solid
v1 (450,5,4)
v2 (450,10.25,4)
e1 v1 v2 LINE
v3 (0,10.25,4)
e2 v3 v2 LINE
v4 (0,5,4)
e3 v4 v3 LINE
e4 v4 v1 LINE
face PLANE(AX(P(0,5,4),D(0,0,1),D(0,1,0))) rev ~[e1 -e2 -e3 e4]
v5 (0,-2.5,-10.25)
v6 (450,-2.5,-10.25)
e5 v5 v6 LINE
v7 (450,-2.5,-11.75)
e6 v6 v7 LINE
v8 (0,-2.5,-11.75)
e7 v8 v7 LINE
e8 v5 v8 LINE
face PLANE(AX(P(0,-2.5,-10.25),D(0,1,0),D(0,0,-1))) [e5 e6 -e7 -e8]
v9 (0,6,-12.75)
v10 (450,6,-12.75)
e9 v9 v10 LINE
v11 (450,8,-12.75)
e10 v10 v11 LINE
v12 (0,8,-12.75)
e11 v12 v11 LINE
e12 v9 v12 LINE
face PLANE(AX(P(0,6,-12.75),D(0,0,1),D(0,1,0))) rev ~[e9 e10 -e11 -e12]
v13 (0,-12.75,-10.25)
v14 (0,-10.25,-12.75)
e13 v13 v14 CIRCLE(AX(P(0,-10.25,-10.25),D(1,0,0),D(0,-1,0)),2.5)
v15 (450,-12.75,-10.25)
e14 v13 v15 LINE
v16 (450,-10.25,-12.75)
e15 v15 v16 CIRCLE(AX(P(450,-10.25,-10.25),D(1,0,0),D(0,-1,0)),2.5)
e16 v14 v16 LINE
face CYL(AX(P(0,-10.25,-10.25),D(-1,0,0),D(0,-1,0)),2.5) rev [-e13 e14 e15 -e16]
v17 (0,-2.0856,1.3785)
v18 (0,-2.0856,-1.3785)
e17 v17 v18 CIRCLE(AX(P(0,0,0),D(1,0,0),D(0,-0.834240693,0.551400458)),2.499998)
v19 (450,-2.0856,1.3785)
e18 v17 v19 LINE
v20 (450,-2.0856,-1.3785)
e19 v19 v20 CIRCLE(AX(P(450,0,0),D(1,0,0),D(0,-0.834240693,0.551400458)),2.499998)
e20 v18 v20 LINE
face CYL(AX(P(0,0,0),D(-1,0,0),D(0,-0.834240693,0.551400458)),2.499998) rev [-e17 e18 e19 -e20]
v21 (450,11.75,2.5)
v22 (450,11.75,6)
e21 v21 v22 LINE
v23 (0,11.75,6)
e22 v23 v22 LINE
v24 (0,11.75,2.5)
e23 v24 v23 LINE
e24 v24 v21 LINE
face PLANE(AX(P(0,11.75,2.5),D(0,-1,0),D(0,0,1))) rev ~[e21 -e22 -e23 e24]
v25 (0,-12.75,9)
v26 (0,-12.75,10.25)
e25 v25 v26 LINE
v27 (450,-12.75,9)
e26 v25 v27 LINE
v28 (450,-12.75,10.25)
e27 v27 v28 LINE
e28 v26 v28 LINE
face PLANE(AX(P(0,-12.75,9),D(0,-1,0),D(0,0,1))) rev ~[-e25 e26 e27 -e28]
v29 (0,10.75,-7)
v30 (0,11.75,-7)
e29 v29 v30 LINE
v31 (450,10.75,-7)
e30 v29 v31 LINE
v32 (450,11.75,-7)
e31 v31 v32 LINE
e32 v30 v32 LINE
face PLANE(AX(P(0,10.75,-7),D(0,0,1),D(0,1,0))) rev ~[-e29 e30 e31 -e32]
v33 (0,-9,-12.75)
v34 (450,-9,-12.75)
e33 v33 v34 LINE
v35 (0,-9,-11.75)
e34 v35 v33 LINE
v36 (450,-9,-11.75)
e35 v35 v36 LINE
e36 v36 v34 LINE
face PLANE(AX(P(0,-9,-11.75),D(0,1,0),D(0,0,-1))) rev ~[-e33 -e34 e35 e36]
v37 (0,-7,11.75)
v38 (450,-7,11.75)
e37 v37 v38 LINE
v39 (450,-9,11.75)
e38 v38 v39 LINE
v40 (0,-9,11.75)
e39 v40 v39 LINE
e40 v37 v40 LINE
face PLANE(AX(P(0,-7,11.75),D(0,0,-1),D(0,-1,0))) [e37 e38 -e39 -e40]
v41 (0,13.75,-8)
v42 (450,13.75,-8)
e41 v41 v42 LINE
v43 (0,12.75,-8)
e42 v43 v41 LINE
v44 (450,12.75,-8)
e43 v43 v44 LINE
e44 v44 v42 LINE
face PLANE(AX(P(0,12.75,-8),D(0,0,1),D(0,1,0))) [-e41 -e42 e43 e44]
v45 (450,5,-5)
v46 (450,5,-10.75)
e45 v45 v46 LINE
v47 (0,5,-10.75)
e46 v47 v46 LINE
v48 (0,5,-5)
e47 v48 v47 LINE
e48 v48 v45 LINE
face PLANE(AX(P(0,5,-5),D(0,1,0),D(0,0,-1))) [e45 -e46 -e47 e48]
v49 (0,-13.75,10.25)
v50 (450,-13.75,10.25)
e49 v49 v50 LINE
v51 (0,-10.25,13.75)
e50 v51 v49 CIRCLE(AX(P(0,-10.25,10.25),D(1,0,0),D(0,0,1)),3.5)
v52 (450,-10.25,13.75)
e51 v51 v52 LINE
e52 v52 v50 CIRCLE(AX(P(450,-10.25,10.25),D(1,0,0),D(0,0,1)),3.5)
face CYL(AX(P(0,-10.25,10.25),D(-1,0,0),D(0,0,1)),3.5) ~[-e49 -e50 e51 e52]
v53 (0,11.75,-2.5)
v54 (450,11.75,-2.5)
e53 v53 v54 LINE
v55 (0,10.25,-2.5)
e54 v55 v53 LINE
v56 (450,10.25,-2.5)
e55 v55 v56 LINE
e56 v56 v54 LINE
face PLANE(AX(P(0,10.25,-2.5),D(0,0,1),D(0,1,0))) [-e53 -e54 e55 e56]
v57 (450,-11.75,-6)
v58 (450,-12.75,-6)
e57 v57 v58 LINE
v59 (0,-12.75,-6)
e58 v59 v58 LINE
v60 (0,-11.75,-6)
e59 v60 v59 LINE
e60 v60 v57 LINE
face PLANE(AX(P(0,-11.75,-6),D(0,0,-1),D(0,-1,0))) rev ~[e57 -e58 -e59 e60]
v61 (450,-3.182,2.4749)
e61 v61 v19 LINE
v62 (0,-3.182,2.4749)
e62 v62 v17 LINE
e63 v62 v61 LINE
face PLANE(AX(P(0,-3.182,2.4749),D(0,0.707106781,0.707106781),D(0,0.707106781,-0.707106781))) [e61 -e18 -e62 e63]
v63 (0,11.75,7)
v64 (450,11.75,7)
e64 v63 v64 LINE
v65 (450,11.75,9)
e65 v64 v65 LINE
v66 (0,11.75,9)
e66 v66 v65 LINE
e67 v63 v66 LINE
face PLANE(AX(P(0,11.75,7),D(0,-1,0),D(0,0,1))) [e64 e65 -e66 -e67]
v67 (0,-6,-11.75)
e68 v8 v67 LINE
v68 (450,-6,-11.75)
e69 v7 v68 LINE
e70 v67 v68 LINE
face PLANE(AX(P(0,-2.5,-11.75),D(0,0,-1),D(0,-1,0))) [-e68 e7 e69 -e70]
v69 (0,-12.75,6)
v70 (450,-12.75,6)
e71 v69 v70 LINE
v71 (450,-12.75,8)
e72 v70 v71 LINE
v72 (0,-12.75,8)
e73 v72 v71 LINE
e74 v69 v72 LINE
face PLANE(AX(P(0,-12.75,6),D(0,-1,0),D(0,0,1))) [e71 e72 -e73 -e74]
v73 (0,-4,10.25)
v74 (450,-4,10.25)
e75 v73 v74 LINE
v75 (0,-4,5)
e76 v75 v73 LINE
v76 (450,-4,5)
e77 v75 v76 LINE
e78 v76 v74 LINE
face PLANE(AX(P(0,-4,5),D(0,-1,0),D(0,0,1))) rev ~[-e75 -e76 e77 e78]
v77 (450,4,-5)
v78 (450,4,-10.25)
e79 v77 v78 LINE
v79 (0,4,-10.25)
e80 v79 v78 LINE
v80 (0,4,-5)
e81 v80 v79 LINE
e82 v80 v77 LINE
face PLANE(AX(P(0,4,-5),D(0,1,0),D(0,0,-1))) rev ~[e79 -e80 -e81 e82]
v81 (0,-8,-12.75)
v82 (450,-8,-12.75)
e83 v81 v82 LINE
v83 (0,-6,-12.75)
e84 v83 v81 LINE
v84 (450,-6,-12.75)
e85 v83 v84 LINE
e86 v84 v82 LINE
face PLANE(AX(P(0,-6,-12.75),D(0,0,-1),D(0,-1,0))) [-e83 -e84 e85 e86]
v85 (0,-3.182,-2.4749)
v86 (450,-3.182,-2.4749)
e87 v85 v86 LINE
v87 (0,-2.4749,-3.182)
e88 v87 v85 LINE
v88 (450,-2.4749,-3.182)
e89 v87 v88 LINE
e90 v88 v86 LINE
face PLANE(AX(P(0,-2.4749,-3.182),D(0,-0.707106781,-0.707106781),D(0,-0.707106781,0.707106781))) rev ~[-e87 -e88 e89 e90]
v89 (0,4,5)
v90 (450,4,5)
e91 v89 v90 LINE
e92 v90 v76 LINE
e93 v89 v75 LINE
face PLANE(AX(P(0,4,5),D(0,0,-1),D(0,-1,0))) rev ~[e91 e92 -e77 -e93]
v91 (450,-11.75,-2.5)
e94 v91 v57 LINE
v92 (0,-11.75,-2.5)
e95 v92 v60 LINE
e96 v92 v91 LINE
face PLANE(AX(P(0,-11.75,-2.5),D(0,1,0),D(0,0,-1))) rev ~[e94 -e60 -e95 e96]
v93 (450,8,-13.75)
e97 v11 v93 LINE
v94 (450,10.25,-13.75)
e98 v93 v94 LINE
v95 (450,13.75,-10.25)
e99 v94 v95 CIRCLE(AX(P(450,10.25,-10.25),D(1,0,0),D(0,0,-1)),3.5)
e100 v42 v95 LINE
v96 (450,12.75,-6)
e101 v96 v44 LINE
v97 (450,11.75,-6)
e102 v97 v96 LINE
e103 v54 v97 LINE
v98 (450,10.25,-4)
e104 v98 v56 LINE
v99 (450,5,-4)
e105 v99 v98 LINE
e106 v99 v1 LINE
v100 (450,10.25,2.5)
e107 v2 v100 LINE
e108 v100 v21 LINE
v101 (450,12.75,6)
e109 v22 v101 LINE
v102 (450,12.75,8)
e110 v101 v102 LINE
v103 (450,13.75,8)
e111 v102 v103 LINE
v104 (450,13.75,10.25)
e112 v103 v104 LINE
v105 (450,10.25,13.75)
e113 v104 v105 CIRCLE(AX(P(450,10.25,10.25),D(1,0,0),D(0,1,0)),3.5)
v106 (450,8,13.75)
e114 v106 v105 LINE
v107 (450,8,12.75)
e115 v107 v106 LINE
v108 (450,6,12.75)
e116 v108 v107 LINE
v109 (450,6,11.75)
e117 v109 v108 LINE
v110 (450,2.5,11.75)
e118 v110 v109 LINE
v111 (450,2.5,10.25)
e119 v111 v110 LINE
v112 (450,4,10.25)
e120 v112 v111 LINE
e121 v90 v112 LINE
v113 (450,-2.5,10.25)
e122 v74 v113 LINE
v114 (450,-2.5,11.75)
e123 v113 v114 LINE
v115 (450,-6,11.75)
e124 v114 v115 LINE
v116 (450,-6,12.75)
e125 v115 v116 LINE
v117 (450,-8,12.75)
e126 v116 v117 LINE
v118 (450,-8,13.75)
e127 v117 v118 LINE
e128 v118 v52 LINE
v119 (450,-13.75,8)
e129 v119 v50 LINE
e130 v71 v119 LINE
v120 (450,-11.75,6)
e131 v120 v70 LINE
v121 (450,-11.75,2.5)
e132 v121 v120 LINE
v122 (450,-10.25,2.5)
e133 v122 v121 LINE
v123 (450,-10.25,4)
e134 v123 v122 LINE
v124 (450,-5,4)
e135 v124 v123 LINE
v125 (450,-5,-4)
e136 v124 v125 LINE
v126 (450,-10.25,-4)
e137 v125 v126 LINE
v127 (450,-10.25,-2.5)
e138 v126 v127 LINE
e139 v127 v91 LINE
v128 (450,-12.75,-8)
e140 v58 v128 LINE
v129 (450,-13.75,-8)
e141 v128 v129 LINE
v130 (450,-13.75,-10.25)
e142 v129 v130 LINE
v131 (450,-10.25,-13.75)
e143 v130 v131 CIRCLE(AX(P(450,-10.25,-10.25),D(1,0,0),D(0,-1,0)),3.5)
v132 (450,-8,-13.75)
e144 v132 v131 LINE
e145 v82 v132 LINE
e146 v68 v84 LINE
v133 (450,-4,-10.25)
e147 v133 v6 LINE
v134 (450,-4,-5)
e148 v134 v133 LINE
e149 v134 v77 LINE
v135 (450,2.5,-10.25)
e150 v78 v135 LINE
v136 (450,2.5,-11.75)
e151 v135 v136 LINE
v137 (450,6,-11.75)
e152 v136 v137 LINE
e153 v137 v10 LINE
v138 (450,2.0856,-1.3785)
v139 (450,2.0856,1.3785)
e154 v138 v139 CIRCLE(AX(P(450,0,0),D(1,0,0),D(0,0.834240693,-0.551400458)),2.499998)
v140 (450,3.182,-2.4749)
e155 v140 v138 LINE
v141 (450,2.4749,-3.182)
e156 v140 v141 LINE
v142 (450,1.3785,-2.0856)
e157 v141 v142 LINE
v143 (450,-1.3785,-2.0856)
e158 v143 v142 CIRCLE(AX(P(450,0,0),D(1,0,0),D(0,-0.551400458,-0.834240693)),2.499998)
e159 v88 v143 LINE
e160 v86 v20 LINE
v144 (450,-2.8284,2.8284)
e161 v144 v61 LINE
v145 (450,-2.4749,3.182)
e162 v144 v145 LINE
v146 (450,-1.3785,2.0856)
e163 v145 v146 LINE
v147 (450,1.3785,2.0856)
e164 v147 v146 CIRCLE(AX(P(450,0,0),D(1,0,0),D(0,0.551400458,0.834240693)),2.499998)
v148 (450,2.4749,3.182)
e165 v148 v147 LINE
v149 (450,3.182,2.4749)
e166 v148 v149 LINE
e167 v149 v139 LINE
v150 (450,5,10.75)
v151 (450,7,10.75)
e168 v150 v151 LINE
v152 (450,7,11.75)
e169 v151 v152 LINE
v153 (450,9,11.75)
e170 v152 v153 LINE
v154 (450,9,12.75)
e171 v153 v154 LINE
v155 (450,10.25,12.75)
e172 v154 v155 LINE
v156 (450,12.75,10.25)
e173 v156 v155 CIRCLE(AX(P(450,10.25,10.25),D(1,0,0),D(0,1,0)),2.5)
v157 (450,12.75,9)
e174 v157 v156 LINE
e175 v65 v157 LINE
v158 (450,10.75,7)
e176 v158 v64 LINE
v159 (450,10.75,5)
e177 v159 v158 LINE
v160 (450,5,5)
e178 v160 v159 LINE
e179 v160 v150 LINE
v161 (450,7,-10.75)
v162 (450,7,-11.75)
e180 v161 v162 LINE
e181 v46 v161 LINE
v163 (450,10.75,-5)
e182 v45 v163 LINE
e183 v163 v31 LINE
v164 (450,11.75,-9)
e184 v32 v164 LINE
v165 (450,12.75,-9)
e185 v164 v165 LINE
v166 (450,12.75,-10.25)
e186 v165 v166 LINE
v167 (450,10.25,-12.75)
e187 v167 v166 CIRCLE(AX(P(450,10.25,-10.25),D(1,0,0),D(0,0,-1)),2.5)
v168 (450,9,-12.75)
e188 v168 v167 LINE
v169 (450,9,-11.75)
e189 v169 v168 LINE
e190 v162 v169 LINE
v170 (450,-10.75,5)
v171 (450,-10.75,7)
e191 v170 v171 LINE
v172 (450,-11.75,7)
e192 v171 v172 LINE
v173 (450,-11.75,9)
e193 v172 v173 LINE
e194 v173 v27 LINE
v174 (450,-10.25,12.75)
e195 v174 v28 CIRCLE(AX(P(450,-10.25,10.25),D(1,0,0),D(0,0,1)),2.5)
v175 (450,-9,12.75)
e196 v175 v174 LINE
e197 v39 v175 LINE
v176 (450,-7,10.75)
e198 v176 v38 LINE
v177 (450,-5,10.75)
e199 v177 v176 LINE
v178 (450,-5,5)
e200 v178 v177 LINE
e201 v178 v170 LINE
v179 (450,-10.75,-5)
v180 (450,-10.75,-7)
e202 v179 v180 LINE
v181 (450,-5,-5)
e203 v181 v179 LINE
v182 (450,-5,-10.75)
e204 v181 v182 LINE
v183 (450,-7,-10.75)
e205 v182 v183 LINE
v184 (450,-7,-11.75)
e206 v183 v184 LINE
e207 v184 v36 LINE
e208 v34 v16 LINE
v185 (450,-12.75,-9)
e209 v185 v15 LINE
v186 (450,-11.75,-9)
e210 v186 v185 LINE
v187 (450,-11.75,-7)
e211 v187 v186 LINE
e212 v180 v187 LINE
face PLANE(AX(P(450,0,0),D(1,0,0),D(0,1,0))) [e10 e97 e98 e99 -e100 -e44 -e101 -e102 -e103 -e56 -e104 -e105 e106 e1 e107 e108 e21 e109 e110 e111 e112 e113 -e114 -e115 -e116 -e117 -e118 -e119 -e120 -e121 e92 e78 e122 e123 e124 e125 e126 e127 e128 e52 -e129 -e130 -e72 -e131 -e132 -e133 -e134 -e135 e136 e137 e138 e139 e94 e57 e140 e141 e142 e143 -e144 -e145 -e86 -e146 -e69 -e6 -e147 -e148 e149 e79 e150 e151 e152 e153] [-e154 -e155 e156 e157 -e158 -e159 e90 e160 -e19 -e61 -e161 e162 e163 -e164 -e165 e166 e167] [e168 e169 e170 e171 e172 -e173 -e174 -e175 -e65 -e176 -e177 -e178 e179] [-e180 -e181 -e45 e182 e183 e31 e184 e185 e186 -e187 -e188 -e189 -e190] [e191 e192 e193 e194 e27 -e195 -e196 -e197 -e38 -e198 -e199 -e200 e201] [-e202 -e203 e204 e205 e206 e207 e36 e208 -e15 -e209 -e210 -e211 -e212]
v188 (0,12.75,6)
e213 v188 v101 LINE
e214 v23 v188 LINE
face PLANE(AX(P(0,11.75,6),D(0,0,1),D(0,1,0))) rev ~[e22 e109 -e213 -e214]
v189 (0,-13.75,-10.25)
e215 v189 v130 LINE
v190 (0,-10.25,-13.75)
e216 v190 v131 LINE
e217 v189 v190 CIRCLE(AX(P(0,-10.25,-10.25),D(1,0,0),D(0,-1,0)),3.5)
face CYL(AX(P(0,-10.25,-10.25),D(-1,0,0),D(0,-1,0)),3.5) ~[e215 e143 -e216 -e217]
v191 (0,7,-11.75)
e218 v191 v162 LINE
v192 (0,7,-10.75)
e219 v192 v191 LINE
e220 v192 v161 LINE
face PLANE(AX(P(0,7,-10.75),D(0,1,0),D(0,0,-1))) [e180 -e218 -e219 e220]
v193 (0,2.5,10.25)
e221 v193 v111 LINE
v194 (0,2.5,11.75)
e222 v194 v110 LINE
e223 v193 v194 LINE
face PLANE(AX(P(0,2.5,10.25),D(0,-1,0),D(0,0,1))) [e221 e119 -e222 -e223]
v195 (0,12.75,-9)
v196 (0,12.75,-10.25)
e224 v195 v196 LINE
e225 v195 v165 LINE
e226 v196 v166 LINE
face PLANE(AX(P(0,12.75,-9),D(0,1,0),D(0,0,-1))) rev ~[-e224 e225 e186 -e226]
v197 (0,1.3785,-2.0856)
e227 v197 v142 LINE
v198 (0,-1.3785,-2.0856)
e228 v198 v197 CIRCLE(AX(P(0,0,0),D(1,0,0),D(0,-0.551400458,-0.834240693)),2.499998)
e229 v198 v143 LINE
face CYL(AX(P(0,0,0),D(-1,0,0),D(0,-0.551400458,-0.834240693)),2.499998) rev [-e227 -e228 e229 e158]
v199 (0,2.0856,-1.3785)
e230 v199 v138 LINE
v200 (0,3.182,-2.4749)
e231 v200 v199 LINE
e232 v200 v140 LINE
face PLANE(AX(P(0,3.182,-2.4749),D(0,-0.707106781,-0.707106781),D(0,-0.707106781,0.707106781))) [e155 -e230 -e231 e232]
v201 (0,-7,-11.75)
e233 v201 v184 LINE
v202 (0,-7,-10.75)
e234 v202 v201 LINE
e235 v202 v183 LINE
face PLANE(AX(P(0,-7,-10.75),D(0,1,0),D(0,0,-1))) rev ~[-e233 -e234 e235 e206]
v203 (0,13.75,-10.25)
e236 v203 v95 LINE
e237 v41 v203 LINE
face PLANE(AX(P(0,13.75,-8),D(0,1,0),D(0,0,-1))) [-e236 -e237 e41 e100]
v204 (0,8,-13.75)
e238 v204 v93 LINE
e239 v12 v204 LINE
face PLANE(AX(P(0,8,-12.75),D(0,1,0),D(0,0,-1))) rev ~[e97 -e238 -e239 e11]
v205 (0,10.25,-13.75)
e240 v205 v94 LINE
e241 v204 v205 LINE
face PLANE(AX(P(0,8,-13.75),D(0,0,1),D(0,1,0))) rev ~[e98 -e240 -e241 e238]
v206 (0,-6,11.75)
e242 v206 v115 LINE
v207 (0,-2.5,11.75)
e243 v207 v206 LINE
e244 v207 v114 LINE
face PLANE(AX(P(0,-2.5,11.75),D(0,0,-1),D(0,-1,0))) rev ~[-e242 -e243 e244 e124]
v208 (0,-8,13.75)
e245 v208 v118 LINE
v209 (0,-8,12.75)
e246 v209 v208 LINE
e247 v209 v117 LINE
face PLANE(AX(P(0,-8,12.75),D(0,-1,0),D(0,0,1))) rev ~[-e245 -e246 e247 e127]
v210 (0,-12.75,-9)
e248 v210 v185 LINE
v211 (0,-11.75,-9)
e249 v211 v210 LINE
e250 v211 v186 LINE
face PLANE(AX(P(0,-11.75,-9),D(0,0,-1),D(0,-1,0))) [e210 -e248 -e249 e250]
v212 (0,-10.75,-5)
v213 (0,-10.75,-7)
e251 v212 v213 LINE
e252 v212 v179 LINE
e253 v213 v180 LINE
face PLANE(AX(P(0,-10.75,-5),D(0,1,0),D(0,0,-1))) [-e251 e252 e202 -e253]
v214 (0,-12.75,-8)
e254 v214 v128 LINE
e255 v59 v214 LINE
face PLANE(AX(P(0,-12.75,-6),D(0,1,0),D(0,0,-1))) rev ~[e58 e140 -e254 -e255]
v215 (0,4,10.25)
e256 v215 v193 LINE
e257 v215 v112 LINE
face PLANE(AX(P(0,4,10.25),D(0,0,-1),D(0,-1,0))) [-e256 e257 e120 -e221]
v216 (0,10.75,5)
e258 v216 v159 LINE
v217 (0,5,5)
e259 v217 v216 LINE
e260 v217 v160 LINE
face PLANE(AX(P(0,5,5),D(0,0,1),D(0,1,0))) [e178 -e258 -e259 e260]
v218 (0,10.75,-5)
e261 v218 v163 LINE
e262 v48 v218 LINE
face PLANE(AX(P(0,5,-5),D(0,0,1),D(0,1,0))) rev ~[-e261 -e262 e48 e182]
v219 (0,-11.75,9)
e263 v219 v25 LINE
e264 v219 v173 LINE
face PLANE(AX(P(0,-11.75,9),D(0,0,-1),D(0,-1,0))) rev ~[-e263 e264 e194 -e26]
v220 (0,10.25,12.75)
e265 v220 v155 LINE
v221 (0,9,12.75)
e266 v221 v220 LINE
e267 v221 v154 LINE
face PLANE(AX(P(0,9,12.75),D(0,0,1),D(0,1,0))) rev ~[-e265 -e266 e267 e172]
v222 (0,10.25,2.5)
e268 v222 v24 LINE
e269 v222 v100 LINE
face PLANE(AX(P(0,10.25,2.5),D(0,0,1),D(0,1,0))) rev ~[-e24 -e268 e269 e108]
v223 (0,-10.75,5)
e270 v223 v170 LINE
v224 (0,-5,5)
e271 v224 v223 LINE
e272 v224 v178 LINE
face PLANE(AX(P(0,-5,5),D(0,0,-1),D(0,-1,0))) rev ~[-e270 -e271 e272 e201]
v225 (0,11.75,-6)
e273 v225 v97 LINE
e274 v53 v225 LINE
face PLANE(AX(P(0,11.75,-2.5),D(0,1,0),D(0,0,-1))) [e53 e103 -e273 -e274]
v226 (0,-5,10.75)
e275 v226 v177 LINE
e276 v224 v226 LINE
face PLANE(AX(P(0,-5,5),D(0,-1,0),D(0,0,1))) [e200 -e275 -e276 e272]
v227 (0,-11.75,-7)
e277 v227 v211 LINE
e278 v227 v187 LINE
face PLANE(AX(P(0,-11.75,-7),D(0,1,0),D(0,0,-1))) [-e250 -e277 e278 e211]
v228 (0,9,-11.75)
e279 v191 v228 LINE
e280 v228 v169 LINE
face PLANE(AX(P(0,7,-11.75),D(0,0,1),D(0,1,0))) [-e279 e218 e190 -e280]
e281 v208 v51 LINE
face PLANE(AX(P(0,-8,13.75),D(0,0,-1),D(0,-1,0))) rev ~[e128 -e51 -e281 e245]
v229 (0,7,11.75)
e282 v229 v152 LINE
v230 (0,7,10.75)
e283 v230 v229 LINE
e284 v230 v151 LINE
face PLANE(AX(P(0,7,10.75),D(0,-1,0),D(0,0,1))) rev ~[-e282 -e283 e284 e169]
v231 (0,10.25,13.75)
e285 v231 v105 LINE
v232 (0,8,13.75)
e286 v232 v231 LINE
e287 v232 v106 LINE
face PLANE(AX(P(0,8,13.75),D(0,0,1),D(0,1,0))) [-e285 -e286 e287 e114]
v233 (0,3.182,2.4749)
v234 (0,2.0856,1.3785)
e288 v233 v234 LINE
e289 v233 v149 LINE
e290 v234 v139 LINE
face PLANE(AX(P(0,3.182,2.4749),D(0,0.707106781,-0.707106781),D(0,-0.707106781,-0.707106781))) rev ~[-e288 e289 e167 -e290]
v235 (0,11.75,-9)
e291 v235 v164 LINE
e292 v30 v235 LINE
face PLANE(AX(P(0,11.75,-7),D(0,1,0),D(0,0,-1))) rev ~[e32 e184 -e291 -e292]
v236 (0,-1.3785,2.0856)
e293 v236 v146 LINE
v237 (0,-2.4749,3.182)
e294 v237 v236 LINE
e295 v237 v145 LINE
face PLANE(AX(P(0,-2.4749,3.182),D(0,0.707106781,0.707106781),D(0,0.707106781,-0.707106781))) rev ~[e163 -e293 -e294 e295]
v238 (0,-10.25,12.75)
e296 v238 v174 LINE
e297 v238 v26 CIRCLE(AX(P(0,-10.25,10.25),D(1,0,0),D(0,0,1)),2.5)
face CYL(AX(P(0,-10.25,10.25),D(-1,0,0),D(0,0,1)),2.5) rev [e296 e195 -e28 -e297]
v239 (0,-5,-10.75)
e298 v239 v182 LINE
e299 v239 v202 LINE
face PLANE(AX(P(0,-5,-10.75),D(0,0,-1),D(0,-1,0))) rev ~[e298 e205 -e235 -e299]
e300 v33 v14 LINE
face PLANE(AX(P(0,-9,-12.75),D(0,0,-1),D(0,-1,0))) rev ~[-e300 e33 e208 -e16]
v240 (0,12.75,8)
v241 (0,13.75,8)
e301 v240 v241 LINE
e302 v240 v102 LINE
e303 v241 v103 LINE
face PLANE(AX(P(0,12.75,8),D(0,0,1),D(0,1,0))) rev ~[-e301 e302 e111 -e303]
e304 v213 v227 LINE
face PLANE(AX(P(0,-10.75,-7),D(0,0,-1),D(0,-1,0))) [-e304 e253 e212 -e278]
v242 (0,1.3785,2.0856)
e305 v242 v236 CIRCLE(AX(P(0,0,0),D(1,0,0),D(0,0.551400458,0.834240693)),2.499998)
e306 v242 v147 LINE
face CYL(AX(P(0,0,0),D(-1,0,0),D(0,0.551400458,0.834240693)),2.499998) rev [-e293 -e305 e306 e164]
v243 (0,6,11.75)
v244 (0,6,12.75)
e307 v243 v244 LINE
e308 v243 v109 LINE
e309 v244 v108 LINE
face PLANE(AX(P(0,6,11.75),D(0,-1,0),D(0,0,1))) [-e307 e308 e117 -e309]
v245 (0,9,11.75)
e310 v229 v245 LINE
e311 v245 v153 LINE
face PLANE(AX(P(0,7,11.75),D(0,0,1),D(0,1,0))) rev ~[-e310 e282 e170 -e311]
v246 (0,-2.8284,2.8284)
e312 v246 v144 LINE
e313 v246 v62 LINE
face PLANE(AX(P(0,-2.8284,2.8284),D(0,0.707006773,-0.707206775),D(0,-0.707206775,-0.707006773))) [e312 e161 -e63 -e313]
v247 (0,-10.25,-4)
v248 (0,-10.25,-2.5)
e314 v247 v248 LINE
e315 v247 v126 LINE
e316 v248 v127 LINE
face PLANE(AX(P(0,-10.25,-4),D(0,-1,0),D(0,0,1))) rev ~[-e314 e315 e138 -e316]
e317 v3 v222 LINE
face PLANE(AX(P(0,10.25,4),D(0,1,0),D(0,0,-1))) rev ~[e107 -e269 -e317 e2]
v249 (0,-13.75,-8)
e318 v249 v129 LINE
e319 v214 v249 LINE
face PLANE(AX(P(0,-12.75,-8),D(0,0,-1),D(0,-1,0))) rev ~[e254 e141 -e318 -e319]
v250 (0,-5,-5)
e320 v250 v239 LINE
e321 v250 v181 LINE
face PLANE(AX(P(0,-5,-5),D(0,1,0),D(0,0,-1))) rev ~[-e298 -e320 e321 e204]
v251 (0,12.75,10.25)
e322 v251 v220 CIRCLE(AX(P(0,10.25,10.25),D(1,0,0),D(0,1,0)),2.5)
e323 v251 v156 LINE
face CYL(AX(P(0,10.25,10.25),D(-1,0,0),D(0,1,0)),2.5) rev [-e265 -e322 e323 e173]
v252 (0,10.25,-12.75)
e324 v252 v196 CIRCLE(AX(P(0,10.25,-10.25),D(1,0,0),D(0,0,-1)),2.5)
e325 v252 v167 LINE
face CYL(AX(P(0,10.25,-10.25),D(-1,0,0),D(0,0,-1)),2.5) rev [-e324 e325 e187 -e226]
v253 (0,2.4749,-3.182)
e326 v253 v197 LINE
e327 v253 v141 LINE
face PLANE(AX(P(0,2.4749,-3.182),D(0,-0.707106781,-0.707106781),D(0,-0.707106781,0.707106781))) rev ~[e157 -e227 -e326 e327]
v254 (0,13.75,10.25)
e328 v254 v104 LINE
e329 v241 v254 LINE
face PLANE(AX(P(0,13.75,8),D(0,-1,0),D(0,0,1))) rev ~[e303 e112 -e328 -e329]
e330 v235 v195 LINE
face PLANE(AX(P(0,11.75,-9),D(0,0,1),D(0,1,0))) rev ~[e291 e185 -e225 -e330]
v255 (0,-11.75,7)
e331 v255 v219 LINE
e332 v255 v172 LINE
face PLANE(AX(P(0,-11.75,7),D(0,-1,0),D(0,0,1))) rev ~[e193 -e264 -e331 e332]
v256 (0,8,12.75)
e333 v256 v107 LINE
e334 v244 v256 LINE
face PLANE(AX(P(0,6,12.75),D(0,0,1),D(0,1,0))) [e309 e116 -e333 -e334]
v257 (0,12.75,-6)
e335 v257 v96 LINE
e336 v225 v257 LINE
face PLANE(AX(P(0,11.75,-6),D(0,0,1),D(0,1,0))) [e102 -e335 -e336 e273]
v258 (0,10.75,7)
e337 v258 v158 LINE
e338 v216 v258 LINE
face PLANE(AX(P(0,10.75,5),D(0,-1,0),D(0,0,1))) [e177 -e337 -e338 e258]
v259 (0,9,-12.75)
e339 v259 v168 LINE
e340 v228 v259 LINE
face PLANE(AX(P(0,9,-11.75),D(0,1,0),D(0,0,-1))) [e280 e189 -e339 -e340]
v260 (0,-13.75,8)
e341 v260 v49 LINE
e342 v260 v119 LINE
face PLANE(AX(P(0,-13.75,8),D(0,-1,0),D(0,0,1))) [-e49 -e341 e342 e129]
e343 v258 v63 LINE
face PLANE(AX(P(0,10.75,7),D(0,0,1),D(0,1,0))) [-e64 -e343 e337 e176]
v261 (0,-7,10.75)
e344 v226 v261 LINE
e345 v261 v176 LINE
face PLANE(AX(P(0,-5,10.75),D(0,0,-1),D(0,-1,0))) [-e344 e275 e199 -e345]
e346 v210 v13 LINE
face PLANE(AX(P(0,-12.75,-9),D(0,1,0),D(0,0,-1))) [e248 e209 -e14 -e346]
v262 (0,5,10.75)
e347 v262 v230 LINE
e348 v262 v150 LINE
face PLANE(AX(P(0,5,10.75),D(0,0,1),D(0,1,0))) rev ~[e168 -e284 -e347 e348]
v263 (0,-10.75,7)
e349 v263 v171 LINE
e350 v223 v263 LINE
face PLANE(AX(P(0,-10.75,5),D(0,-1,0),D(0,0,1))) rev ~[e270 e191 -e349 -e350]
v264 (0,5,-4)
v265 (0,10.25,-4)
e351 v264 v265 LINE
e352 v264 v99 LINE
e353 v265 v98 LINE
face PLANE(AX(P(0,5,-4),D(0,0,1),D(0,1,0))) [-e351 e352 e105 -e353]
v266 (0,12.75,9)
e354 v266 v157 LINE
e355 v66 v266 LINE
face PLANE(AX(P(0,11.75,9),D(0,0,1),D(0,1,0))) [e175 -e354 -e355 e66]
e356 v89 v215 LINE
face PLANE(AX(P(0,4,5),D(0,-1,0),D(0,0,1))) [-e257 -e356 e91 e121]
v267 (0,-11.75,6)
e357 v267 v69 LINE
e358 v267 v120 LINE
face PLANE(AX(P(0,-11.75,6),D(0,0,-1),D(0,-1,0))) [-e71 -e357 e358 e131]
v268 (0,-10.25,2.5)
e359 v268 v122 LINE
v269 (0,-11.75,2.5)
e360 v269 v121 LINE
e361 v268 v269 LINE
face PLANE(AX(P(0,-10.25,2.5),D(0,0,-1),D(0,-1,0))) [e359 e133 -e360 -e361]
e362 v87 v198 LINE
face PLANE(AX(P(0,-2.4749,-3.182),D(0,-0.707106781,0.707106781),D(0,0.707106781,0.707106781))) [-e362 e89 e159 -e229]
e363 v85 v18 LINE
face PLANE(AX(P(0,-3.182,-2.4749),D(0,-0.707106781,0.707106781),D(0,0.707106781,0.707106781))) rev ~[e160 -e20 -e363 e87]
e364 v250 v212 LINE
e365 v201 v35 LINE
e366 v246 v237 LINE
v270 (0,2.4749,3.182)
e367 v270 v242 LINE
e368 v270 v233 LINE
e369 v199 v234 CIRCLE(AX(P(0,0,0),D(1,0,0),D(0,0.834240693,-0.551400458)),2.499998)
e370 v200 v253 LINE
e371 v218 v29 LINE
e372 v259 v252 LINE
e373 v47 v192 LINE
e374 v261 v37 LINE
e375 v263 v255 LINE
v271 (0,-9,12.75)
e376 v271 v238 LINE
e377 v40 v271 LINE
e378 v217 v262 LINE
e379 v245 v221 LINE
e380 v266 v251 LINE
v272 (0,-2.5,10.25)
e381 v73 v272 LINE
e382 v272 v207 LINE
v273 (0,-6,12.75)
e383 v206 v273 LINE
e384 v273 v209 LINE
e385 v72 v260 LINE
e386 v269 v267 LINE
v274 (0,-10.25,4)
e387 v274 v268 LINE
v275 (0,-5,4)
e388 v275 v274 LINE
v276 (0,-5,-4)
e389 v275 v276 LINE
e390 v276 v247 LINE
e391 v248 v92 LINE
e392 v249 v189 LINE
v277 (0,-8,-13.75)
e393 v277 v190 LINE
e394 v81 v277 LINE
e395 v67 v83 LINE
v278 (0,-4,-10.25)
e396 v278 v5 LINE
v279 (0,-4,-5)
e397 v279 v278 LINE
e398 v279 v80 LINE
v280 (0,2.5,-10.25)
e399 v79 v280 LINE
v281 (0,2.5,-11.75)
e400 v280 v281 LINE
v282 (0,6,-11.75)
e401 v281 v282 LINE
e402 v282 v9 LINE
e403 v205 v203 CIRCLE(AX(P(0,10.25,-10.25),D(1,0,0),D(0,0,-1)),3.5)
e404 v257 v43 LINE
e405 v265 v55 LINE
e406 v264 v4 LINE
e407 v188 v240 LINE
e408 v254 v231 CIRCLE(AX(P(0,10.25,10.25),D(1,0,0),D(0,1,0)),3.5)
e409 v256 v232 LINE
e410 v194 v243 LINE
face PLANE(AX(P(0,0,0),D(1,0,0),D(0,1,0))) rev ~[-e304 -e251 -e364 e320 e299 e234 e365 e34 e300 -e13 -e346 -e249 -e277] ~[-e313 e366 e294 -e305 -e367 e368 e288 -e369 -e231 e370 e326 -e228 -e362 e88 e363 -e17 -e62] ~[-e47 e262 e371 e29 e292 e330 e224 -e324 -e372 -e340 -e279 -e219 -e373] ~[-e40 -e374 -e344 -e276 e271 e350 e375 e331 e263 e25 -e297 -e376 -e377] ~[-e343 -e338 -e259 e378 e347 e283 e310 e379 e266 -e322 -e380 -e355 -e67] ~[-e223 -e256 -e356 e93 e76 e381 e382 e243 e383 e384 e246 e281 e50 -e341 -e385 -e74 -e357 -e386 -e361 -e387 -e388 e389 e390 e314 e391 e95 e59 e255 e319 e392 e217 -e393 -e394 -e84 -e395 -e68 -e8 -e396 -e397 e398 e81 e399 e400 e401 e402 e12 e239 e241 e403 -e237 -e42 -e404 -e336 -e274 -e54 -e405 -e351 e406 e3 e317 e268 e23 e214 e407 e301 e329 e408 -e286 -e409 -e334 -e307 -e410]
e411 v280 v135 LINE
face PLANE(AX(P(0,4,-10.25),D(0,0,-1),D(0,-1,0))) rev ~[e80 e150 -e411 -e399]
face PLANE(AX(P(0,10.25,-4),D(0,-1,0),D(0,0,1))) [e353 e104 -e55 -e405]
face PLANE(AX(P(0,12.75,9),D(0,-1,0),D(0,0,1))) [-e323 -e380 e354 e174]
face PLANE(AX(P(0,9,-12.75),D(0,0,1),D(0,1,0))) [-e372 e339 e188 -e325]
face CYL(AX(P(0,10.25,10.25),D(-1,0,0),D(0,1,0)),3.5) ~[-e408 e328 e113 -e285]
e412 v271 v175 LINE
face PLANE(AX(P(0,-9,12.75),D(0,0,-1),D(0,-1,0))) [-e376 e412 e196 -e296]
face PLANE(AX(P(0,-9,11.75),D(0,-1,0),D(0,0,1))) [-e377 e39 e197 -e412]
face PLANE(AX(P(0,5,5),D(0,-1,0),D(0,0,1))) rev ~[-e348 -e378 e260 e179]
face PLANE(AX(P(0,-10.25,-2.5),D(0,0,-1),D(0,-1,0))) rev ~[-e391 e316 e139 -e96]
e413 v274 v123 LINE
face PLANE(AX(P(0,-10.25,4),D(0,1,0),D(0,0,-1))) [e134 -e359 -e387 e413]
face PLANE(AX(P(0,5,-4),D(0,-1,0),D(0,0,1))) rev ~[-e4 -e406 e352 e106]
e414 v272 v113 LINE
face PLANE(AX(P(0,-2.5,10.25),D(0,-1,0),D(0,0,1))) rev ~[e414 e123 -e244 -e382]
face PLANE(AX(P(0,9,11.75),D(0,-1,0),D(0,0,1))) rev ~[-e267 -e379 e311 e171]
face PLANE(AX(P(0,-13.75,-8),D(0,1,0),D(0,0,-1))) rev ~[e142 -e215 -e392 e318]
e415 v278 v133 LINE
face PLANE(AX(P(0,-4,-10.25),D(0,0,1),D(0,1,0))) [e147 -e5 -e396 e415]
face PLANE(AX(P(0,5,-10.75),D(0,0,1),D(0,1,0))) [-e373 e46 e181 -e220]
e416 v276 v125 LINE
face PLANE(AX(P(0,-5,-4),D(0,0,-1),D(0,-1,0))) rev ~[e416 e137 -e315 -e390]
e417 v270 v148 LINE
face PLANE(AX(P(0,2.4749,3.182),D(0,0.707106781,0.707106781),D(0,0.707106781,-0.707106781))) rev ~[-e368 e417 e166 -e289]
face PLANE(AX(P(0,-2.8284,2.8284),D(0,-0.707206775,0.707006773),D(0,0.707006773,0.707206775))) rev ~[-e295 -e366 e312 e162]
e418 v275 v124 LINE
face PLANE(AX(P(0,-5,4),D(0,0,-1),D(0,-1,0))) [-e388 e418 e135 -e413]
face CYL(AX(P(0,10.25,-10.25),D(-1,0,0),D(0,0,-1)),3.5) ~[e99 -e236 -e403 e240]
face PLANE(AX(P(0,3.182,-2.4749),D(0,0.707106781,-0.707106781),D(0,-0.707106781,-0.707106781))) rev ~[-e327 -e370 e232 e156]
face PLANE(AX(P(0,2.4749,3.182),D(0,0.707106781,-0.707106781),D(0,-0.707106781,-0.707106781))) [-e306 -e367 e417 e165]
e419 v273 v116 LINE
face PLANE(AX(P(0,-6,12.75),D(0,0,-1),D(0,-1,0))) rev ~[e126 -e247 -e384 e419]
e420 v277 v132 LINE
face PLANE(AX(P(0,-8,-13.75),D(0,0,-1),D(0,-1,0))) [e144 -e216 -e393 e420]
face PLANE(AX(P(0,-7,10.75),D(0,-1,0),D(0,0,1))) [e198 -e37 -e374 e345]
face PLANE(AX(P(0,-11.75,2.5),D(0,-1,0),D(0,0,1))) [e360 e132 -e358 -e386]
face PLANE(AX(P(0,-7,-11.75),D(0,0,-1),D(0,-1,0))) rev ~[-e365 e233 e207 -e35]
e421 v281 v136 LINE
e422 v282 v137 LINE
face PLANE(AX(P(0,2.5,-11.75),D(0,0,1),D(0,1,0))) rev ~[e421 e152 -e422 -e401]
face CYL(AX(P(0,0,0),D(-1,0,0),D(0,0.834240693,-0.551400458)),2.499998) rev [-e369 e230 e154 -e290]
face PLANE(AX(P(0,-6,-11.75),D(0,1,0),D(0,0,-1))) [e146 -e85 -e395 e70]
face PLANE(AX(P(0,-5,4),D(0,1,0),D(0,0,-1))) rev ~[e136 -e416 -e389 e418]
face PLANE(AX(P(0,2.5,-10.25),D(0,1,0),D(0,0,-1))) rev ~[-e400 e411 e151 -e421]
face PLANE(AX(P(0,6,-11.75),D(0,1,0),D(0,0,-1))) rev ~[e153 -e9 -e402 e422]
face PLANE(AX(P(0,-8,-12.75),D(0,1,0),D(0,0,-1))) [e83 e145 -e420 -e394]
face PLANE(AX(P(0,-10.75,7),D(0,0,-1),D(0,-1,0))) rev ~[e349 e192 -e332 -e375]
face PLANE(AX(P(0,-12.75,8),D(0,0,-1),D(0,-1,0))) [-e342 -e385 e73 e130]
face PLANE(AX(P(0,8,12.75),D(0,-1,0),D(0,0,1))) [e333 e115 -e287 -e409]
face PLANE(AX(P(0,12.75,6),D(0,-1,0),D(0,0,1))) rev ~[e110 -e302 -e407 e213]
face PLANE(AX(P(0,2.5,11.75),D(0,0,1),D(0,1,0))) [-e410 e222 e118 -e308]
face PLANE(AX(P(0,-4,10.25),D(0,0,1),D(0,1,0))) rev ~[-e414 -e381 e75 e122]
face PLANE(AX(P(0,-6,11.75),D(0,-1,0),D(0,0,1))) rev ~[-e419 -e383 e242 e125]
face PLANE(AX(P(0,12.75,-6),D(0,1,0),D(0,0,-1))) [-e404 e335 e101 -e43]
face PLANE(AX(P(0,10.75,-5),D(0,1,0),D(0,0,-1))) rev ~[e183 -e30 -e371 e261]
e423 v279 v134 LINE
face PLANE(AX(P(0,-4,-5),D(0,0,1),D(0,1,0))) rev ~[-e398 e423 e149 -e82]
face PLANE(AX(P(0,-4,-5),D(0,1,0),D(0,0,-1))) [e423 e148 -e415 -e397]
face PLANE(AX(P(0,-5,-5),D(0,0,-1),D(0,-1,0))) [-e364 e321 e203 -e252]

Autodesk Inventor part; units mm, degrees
ref_plane "YZ Plane" through (0, 0, 0) normal (1, 0, 0) x (0, 1, 0)
ref_plane "XZ Plane" through (0, 0, 0) normal (0, 1, 0) x (-1, 0, 0)
ref_plane "XY Plane" through (0, 0, 0) normal (0, 0, 1) x (1, 0, 0)
sketch "Sketch1" plane through (0, 0, 0) normal (1, 0, 0) x (0, 1, 0)
  line L0 (0, 25.1698) -> (0, -25.1698) construction
  line L1 (-25.1698, 0) -> (25.1698, 0) construction
  line L2 (-13.75, 13.75) -> (13.75, 13.75) construction
  line L3 (13.75, 13.75) -> (13.75, -13.75) construction
  line L4 (13.75, -13.75) -> (-13.75, -13.75) construction
  line L5 (-13.75, -13.75) -> (-13.75, 13.75) construction
  line L6 (-17.9785, 13.9213) -> (17.1336, 13.9213) construction
  line L7 (17.1336, 13.9213) -> (17.1336, -14.9109) construction
  line L8 (17.1336, -14.9109) -> (-17.9785, -14.9109) construction
  line L9 (-17.9785, -14.9109) -> (-17.9785, 13.9213) construction
  line L10 (5, -5) -> (-5, -5) construction
  line L11 (-5, -5) -> (-5, 5) construction
  line L12 (-5, 5) -> (5, 5) construction
  line L13 (5, 5) -> (5, -5) construction
  line L14 (5, -5) -> (-5, 5) construction
  line L15 (-5, -5) -> (5, 5) construction
  line L16 (-5, 4) -> (-10.25, 4)
  line L17 (-10.25, 4) -> (-10.25, 2.5)
  line L18 (-10.25, 2.5) -> (-11.75, 2.5)
  line L19 (-11.75, 2.5) -> (-11.75, 6)
  line L20 (-11.75, 6) -> (-12.75, 6)
  line L21 (-12.75, 6) -> (-12.75, 8)
  line L22 (-12.75, 8) -> (-13.75, 8)
  line L23 (-13.75, 13.75) -> (0, 0) construction
  line L24 (-4, 5) -> (-4, 10.25)
  line L25 (-4, 10.25) -> (-2.5, 10.25)
  line L26 (-2.5, 10.25) -> (-2.5, 11.75)
  line L27 (-2.5, 11.75) -> (-6, 11.75)
  line L28 (-6, 11.75) -> (-6, 12.75)
  line L29 (-6, 12.75) -> (-8, 12.75)
  line L30 (-8, 12.75) -> (-8, 13.75)
  line L31 (-13.75, 8) -> (-13.75, 10.25)
  line L32 (-8, 13.75) -> (-10.25, 13.75)
  arc A0 (-10.25, 13.75) -> (-13.75, 10.25) centre (-10.25, 10.25) ccw
  line L33 (-5, 5) -> (-10.75, 5)
  line L34 (-10.75, 5) -> (-10.75, 7)
  line L35 (-10.75, 7) -> (-11.75, 7)
  line L36 (-11.75, 7) -> (-11.75, 9)
  line L37 (-11.75, 9) -> (-12.75, 9)
  line L38 (-5, 5) -> (-5, 10.75)
  line L39 (-5, 10.75) -> (-7, 10.75)
  line L40 (-7, 10.75) -> (-7, 11.75)
  line L41 (-7, 11.75) -> (-9, 11.75)
  line L42 (-9, 11.75) -> (-9, 12.75)
  line L43 (-12.75, 9) -> (-12.75, 10.25)
  line L44 (-9, 12.75) -> (-10.25, 12.75)
  arc A1 (-10.25, 12.75) -> (-12.75, 10.25) centre (-10.25, 10.25) ccw
  line L45 (-4, -5) -> (-4, -10.25)
  line L46 (-4, -10.25) -> (-2.5, -10.25)
  line L47 (-2.5, -10.25) -> (-2.5, -11.75)
  line L48 (-2.5, -11.75) -> (-6, -11.75)
  line L49 (-6, -11.75) -> (-6, -12.75)
  line L50 (-6, -12.75) -> (-8, -12.75)
  line L51 (-8, -12.75) -> (-8, -13.75)
  line L52 (-10.25, -4) -> (-10.25, -2.5)
  line L53 (-5, -4) -> (-10.25, -4)
  line L54 (-10.25, -2.5) -> (-11.75, -2.5)
  line L55 (-11.75, -6) -> (-12.75, -6)
  line L56 (-11.75, -2.5) -> (-11.75, -6)
  line L57 (-12.75, -6) -> (-12.75, -8)
  line L58 (-12.75, -8) -> (-13.75, -8)
  line L59 (-8, -13.75) -> (-10.25, -13.75)
  line L60 (-13.75, -8) -> (-13.75, -10.25)
  arc A2 (-13.75, -10.25) -> (-10.25, -13.75) centre (-10.25, -10.25) ccw
  line L61 (-5, -5) -> (-5, -10.75)
  line L62 (-5, -10.75) -> (-7, -10.75)
  line L63 (-7, -10.75) -> (-7, -11.75)
  line L64 (-7, -11.75) -> (-9, -11.75)
  line L65 (-9, -11.75) -> (-9, -12.75)
  line L66 (-11.75, -9) -> (-12.75, -9)
  line L67 (-11.75, -7) -> (-11.75, -9)
  line L68 (-10.75, -7) -> (-11.75, -7)
  line L69 (-10.75, -5) -> (-10.75, -7)
  line L70 (-5, -5) -> (-10.75, -5)
  line L71 (-9, -12.75) -> (-10.25, -12.75)
  line L72 (-12.75, -9) -> (-12.75, -10.25)
  arc A3 (-12.75, -10.25) -> (-10.25, -12.75) centre (-10.25, -10.25) ccw
  line L73 (5, -4) -> (10.25, -4)
  line L74 (10.25, -4) -> (10.25, -2.5)
  line L75 (10.25, -2.5) -> (11.75, -2.5)
  line L76 (11.75, -2.5) -> (11.75, -6)
  line L77 (11.75, -6) -> (12.75, -6)
  line L78 (12.75, -6) -> (12.75, -8)
  line L79 (12.75, -8) -> (13.75, -8)
  line L80 (4, -10.25) -> (2.5, -10.25)
  line L81 (4, -5) -> (4, -10.25)
  line L82 (2.5, -10.25) -> (2.5, -11.75)
  line L83 (6, -11.75) -> (6, -12.75)
  line L84 (2.5, -11.75) -> (6, -11.75)
  line L85 (6, -12.75) -> (8, -12.75)
  line L86 (8, -12.75) -> (8, -13.75)
  line L87 (13.75, -8) -> (13.75, -10.25)
  line L88 (8, -13.75) -> (10.25, -13.75)
  arc A4 (10.25, -13.75) -> (13.75, -10.25) centre (10.25, -10.25) ccw
  line L89 (5, -5) -> (10.75, -5)
  line L90 (10.75, -5) -> (10.75, -7)
  line L91 (10.75, -7) -> (11.75, -7)
  line L92 (11.75, -7) -> (11.75, -9)
  line L93 (11.75, -9) -> (12.75, -9)
  line L94 (9, -11.75) -> (9, -12.75)
  line L95 (7, -11.75) -> (9, -11.75)
  line L96 (7, -10.75) -> (7, -11.75)
  line L97 (5, -10.75) -> (7, -10.75)
  line L98 (5, -5) -> (5, -10.75)
  line L99 (12.75, -9) -> (12.75, -10.25)
  line L100 (9, -12.75) -> (10.25, -12.75)
  arc A5 (10.25, -12.75) -> (12.75, -10.25) centre (10.25, -10.25) ccw
  line L101 (4, 5) -> (4, 10.25)
  line L102 (4, 10.25) -> (2.5, 10.25)
  line L103 (2.5, 10.25) -> (2.5, 11.75)
  line L104 (2.5, 11.75) -> (6, 11.75)
  line L105 (6, 11.75) -> (6, 12.75)
  line L106 (6, 12.75) -> (8, 12.75)
  line L107 (8, 12.75) -> (8, 13.75)
  line L108 (10.25, 4) -> (10.25, 2.5)
  line L109 (5, 4) -> (10.25, 4)
  line L110 (10.25, 2.5) -> (11.75, 2.5)
  line L111 (11.75, 6) -> (12.75, 6)
  line L112 (11.75, 2.5) -> (11.75, 6)
  line L113 (12.75, 6) -> (12.75, 8)
  line L114 (12.75, 8) -> (13.75, 8)
  line L115 (8, 13.75) -> (10.25, 13.75)
  line L116 (13.75, 8) -> (13.75, 10.25)
  arc A6 (13.75, 10.25) -> (10.25, 13.75) centre (10.25, 10.25) ccw
  line L117 (5, 5) -> (5, 10.75)
  line L118 (5, 10.75) -> (7, 10.75)
  line L119 (7, 10.75) -> (7, 11.75)
  line L120 (7, 11.75) -> (9, 11.75)
  line L121 (9, 11.75) -> (9, 12.75)
  line L122 (11.75, 9) -> (12.75, 9)
  line L123 (11.75, 7) -> (11.75, 9)
  line L124 (10.75, 7) -> (11.75, 7)
  line L125 (10.75, 5) -> (10.75, 7)
  line L126 (5, 5) -> (10.75, 5)
  line L127 (9, 12.75) -> (10.25, 12.75)
  line L128 (12.75, 9) -> (12.75, 10.25)
  arc A7 (12.75, 10.25) -> (10.25, 12.75) centre (10.25, 10.25) ccw
  line L129 (0, 0) -> (-2.8284, 2.8284) construction
  line L130 (-2.8284, 2.8284) -> (-3.182, 2.4749)
  line L131 (-3.182, 2.4749) -> (-2.0856, 1.3785)
  line L132 (-2.8284, 2.8284) -> (-2.4749, 3.182)
  line L133 (-2.4749, 3.182) -> (-1.3785, 2.0856)
  line L134 (-3.182, 2.4749) -> (-2.4749, 3.182)
  line L135 (-2.4749, -3.182) -> (-1.3785, -2.0856)
  line L136 (-3.182, -2.4749) -> (-2.0856, -1.3785)
  line L137 (-2.4749, -3.182) -> (-3.182, -2.4749)
  line L138 (3.182, -2.4749) -> (2.0856, -1.3785)
  line L139 (2.4749, -3.182) -> (1.3785, -2.0856)
  line L140 (3.182, -2.4749) -> (2.4749, -3.182)
  line L141 (2.4749, 3.182) -> (1.3785, 2.0856)
  line L142 (3.182, 2.4749) -> (2.0856, 1.3785)
  line L143 (2.4749, 3.182) -> (3.182, 2.4749)
  arc A8 (-2.0856, 1.3785) -> (-2.0856, -1.3785) centre (0, 0) ccw
  arc A9 (-1.3785, -2.0856) -> (1.3785, -2.0856) centre (0, 0) ccw
  arc A10 (2.0856, -1.3785) -> (2.0856, 1.3785) centre (0, 0) ccw
  arc A11 (1.3785, 2.0856) -> (-1.3785, 2.0856) centre (0, 0) ccw
  line L144 (-5, 4) -> (-5, -4)
  line L145 (-4, -5) -> (4, -5)
  line L146 (5, -4) -> (5, 4)
  line L147 (4, 5) -> (-4, 5)
  point P0 (-12.75, 12.75)
  point P1 (-13.75, -13.75)
  point P2 (-13.9213, -17.9785)
  point P3 (-12.75, -12.75)
  point P4 (13.75, -13.75)
  point P5 (17.9785, -13.9213)
  point P6 (12.75, -12.75)
  point P7 (13.75, 13.75)
  point P8 (13.9213, 17.9785)
  point P9 (12.75, 12.75)
  dimension "d0" = 27.5
  dimension "d1" = 27.5
  dimension "d67" = 10
  dimension "d68" = 10
  dimension "d69" = 1
  dimension "d73" = 1.5
  dimension "d74" = 3.5
  dimension "d75" = 1
  dimension "d76" = 2
  dimension "d77" = 1
  dimension "d78" = 1.5
  dimension "d80" = 3.5
  dimension "d81" = 1
  dimension "d82" = 1
  dimension "d83" = 1
  dimension "d84" = 1
  dimension "d85" = 1
  dimension "d88" = 2.5
  dimension "d91" = 360
  dimension "d96" = 4
  dimension "d97" = 0.5
  dimension "d98" = 0.5
  dimension "d102" = 360
  dimension "d120" = 2.5
extrude "Extrusion1" add sketch "Sketch1" along normal blind 450
ref_plane "Work Plane1" through (225, 194.25, -14.75) normal (0, 0, 1) x (0, 1, 0)
equation "\"d1\" = d0"
equation "\"d68\" = d67"
properties part number "profilato450"
